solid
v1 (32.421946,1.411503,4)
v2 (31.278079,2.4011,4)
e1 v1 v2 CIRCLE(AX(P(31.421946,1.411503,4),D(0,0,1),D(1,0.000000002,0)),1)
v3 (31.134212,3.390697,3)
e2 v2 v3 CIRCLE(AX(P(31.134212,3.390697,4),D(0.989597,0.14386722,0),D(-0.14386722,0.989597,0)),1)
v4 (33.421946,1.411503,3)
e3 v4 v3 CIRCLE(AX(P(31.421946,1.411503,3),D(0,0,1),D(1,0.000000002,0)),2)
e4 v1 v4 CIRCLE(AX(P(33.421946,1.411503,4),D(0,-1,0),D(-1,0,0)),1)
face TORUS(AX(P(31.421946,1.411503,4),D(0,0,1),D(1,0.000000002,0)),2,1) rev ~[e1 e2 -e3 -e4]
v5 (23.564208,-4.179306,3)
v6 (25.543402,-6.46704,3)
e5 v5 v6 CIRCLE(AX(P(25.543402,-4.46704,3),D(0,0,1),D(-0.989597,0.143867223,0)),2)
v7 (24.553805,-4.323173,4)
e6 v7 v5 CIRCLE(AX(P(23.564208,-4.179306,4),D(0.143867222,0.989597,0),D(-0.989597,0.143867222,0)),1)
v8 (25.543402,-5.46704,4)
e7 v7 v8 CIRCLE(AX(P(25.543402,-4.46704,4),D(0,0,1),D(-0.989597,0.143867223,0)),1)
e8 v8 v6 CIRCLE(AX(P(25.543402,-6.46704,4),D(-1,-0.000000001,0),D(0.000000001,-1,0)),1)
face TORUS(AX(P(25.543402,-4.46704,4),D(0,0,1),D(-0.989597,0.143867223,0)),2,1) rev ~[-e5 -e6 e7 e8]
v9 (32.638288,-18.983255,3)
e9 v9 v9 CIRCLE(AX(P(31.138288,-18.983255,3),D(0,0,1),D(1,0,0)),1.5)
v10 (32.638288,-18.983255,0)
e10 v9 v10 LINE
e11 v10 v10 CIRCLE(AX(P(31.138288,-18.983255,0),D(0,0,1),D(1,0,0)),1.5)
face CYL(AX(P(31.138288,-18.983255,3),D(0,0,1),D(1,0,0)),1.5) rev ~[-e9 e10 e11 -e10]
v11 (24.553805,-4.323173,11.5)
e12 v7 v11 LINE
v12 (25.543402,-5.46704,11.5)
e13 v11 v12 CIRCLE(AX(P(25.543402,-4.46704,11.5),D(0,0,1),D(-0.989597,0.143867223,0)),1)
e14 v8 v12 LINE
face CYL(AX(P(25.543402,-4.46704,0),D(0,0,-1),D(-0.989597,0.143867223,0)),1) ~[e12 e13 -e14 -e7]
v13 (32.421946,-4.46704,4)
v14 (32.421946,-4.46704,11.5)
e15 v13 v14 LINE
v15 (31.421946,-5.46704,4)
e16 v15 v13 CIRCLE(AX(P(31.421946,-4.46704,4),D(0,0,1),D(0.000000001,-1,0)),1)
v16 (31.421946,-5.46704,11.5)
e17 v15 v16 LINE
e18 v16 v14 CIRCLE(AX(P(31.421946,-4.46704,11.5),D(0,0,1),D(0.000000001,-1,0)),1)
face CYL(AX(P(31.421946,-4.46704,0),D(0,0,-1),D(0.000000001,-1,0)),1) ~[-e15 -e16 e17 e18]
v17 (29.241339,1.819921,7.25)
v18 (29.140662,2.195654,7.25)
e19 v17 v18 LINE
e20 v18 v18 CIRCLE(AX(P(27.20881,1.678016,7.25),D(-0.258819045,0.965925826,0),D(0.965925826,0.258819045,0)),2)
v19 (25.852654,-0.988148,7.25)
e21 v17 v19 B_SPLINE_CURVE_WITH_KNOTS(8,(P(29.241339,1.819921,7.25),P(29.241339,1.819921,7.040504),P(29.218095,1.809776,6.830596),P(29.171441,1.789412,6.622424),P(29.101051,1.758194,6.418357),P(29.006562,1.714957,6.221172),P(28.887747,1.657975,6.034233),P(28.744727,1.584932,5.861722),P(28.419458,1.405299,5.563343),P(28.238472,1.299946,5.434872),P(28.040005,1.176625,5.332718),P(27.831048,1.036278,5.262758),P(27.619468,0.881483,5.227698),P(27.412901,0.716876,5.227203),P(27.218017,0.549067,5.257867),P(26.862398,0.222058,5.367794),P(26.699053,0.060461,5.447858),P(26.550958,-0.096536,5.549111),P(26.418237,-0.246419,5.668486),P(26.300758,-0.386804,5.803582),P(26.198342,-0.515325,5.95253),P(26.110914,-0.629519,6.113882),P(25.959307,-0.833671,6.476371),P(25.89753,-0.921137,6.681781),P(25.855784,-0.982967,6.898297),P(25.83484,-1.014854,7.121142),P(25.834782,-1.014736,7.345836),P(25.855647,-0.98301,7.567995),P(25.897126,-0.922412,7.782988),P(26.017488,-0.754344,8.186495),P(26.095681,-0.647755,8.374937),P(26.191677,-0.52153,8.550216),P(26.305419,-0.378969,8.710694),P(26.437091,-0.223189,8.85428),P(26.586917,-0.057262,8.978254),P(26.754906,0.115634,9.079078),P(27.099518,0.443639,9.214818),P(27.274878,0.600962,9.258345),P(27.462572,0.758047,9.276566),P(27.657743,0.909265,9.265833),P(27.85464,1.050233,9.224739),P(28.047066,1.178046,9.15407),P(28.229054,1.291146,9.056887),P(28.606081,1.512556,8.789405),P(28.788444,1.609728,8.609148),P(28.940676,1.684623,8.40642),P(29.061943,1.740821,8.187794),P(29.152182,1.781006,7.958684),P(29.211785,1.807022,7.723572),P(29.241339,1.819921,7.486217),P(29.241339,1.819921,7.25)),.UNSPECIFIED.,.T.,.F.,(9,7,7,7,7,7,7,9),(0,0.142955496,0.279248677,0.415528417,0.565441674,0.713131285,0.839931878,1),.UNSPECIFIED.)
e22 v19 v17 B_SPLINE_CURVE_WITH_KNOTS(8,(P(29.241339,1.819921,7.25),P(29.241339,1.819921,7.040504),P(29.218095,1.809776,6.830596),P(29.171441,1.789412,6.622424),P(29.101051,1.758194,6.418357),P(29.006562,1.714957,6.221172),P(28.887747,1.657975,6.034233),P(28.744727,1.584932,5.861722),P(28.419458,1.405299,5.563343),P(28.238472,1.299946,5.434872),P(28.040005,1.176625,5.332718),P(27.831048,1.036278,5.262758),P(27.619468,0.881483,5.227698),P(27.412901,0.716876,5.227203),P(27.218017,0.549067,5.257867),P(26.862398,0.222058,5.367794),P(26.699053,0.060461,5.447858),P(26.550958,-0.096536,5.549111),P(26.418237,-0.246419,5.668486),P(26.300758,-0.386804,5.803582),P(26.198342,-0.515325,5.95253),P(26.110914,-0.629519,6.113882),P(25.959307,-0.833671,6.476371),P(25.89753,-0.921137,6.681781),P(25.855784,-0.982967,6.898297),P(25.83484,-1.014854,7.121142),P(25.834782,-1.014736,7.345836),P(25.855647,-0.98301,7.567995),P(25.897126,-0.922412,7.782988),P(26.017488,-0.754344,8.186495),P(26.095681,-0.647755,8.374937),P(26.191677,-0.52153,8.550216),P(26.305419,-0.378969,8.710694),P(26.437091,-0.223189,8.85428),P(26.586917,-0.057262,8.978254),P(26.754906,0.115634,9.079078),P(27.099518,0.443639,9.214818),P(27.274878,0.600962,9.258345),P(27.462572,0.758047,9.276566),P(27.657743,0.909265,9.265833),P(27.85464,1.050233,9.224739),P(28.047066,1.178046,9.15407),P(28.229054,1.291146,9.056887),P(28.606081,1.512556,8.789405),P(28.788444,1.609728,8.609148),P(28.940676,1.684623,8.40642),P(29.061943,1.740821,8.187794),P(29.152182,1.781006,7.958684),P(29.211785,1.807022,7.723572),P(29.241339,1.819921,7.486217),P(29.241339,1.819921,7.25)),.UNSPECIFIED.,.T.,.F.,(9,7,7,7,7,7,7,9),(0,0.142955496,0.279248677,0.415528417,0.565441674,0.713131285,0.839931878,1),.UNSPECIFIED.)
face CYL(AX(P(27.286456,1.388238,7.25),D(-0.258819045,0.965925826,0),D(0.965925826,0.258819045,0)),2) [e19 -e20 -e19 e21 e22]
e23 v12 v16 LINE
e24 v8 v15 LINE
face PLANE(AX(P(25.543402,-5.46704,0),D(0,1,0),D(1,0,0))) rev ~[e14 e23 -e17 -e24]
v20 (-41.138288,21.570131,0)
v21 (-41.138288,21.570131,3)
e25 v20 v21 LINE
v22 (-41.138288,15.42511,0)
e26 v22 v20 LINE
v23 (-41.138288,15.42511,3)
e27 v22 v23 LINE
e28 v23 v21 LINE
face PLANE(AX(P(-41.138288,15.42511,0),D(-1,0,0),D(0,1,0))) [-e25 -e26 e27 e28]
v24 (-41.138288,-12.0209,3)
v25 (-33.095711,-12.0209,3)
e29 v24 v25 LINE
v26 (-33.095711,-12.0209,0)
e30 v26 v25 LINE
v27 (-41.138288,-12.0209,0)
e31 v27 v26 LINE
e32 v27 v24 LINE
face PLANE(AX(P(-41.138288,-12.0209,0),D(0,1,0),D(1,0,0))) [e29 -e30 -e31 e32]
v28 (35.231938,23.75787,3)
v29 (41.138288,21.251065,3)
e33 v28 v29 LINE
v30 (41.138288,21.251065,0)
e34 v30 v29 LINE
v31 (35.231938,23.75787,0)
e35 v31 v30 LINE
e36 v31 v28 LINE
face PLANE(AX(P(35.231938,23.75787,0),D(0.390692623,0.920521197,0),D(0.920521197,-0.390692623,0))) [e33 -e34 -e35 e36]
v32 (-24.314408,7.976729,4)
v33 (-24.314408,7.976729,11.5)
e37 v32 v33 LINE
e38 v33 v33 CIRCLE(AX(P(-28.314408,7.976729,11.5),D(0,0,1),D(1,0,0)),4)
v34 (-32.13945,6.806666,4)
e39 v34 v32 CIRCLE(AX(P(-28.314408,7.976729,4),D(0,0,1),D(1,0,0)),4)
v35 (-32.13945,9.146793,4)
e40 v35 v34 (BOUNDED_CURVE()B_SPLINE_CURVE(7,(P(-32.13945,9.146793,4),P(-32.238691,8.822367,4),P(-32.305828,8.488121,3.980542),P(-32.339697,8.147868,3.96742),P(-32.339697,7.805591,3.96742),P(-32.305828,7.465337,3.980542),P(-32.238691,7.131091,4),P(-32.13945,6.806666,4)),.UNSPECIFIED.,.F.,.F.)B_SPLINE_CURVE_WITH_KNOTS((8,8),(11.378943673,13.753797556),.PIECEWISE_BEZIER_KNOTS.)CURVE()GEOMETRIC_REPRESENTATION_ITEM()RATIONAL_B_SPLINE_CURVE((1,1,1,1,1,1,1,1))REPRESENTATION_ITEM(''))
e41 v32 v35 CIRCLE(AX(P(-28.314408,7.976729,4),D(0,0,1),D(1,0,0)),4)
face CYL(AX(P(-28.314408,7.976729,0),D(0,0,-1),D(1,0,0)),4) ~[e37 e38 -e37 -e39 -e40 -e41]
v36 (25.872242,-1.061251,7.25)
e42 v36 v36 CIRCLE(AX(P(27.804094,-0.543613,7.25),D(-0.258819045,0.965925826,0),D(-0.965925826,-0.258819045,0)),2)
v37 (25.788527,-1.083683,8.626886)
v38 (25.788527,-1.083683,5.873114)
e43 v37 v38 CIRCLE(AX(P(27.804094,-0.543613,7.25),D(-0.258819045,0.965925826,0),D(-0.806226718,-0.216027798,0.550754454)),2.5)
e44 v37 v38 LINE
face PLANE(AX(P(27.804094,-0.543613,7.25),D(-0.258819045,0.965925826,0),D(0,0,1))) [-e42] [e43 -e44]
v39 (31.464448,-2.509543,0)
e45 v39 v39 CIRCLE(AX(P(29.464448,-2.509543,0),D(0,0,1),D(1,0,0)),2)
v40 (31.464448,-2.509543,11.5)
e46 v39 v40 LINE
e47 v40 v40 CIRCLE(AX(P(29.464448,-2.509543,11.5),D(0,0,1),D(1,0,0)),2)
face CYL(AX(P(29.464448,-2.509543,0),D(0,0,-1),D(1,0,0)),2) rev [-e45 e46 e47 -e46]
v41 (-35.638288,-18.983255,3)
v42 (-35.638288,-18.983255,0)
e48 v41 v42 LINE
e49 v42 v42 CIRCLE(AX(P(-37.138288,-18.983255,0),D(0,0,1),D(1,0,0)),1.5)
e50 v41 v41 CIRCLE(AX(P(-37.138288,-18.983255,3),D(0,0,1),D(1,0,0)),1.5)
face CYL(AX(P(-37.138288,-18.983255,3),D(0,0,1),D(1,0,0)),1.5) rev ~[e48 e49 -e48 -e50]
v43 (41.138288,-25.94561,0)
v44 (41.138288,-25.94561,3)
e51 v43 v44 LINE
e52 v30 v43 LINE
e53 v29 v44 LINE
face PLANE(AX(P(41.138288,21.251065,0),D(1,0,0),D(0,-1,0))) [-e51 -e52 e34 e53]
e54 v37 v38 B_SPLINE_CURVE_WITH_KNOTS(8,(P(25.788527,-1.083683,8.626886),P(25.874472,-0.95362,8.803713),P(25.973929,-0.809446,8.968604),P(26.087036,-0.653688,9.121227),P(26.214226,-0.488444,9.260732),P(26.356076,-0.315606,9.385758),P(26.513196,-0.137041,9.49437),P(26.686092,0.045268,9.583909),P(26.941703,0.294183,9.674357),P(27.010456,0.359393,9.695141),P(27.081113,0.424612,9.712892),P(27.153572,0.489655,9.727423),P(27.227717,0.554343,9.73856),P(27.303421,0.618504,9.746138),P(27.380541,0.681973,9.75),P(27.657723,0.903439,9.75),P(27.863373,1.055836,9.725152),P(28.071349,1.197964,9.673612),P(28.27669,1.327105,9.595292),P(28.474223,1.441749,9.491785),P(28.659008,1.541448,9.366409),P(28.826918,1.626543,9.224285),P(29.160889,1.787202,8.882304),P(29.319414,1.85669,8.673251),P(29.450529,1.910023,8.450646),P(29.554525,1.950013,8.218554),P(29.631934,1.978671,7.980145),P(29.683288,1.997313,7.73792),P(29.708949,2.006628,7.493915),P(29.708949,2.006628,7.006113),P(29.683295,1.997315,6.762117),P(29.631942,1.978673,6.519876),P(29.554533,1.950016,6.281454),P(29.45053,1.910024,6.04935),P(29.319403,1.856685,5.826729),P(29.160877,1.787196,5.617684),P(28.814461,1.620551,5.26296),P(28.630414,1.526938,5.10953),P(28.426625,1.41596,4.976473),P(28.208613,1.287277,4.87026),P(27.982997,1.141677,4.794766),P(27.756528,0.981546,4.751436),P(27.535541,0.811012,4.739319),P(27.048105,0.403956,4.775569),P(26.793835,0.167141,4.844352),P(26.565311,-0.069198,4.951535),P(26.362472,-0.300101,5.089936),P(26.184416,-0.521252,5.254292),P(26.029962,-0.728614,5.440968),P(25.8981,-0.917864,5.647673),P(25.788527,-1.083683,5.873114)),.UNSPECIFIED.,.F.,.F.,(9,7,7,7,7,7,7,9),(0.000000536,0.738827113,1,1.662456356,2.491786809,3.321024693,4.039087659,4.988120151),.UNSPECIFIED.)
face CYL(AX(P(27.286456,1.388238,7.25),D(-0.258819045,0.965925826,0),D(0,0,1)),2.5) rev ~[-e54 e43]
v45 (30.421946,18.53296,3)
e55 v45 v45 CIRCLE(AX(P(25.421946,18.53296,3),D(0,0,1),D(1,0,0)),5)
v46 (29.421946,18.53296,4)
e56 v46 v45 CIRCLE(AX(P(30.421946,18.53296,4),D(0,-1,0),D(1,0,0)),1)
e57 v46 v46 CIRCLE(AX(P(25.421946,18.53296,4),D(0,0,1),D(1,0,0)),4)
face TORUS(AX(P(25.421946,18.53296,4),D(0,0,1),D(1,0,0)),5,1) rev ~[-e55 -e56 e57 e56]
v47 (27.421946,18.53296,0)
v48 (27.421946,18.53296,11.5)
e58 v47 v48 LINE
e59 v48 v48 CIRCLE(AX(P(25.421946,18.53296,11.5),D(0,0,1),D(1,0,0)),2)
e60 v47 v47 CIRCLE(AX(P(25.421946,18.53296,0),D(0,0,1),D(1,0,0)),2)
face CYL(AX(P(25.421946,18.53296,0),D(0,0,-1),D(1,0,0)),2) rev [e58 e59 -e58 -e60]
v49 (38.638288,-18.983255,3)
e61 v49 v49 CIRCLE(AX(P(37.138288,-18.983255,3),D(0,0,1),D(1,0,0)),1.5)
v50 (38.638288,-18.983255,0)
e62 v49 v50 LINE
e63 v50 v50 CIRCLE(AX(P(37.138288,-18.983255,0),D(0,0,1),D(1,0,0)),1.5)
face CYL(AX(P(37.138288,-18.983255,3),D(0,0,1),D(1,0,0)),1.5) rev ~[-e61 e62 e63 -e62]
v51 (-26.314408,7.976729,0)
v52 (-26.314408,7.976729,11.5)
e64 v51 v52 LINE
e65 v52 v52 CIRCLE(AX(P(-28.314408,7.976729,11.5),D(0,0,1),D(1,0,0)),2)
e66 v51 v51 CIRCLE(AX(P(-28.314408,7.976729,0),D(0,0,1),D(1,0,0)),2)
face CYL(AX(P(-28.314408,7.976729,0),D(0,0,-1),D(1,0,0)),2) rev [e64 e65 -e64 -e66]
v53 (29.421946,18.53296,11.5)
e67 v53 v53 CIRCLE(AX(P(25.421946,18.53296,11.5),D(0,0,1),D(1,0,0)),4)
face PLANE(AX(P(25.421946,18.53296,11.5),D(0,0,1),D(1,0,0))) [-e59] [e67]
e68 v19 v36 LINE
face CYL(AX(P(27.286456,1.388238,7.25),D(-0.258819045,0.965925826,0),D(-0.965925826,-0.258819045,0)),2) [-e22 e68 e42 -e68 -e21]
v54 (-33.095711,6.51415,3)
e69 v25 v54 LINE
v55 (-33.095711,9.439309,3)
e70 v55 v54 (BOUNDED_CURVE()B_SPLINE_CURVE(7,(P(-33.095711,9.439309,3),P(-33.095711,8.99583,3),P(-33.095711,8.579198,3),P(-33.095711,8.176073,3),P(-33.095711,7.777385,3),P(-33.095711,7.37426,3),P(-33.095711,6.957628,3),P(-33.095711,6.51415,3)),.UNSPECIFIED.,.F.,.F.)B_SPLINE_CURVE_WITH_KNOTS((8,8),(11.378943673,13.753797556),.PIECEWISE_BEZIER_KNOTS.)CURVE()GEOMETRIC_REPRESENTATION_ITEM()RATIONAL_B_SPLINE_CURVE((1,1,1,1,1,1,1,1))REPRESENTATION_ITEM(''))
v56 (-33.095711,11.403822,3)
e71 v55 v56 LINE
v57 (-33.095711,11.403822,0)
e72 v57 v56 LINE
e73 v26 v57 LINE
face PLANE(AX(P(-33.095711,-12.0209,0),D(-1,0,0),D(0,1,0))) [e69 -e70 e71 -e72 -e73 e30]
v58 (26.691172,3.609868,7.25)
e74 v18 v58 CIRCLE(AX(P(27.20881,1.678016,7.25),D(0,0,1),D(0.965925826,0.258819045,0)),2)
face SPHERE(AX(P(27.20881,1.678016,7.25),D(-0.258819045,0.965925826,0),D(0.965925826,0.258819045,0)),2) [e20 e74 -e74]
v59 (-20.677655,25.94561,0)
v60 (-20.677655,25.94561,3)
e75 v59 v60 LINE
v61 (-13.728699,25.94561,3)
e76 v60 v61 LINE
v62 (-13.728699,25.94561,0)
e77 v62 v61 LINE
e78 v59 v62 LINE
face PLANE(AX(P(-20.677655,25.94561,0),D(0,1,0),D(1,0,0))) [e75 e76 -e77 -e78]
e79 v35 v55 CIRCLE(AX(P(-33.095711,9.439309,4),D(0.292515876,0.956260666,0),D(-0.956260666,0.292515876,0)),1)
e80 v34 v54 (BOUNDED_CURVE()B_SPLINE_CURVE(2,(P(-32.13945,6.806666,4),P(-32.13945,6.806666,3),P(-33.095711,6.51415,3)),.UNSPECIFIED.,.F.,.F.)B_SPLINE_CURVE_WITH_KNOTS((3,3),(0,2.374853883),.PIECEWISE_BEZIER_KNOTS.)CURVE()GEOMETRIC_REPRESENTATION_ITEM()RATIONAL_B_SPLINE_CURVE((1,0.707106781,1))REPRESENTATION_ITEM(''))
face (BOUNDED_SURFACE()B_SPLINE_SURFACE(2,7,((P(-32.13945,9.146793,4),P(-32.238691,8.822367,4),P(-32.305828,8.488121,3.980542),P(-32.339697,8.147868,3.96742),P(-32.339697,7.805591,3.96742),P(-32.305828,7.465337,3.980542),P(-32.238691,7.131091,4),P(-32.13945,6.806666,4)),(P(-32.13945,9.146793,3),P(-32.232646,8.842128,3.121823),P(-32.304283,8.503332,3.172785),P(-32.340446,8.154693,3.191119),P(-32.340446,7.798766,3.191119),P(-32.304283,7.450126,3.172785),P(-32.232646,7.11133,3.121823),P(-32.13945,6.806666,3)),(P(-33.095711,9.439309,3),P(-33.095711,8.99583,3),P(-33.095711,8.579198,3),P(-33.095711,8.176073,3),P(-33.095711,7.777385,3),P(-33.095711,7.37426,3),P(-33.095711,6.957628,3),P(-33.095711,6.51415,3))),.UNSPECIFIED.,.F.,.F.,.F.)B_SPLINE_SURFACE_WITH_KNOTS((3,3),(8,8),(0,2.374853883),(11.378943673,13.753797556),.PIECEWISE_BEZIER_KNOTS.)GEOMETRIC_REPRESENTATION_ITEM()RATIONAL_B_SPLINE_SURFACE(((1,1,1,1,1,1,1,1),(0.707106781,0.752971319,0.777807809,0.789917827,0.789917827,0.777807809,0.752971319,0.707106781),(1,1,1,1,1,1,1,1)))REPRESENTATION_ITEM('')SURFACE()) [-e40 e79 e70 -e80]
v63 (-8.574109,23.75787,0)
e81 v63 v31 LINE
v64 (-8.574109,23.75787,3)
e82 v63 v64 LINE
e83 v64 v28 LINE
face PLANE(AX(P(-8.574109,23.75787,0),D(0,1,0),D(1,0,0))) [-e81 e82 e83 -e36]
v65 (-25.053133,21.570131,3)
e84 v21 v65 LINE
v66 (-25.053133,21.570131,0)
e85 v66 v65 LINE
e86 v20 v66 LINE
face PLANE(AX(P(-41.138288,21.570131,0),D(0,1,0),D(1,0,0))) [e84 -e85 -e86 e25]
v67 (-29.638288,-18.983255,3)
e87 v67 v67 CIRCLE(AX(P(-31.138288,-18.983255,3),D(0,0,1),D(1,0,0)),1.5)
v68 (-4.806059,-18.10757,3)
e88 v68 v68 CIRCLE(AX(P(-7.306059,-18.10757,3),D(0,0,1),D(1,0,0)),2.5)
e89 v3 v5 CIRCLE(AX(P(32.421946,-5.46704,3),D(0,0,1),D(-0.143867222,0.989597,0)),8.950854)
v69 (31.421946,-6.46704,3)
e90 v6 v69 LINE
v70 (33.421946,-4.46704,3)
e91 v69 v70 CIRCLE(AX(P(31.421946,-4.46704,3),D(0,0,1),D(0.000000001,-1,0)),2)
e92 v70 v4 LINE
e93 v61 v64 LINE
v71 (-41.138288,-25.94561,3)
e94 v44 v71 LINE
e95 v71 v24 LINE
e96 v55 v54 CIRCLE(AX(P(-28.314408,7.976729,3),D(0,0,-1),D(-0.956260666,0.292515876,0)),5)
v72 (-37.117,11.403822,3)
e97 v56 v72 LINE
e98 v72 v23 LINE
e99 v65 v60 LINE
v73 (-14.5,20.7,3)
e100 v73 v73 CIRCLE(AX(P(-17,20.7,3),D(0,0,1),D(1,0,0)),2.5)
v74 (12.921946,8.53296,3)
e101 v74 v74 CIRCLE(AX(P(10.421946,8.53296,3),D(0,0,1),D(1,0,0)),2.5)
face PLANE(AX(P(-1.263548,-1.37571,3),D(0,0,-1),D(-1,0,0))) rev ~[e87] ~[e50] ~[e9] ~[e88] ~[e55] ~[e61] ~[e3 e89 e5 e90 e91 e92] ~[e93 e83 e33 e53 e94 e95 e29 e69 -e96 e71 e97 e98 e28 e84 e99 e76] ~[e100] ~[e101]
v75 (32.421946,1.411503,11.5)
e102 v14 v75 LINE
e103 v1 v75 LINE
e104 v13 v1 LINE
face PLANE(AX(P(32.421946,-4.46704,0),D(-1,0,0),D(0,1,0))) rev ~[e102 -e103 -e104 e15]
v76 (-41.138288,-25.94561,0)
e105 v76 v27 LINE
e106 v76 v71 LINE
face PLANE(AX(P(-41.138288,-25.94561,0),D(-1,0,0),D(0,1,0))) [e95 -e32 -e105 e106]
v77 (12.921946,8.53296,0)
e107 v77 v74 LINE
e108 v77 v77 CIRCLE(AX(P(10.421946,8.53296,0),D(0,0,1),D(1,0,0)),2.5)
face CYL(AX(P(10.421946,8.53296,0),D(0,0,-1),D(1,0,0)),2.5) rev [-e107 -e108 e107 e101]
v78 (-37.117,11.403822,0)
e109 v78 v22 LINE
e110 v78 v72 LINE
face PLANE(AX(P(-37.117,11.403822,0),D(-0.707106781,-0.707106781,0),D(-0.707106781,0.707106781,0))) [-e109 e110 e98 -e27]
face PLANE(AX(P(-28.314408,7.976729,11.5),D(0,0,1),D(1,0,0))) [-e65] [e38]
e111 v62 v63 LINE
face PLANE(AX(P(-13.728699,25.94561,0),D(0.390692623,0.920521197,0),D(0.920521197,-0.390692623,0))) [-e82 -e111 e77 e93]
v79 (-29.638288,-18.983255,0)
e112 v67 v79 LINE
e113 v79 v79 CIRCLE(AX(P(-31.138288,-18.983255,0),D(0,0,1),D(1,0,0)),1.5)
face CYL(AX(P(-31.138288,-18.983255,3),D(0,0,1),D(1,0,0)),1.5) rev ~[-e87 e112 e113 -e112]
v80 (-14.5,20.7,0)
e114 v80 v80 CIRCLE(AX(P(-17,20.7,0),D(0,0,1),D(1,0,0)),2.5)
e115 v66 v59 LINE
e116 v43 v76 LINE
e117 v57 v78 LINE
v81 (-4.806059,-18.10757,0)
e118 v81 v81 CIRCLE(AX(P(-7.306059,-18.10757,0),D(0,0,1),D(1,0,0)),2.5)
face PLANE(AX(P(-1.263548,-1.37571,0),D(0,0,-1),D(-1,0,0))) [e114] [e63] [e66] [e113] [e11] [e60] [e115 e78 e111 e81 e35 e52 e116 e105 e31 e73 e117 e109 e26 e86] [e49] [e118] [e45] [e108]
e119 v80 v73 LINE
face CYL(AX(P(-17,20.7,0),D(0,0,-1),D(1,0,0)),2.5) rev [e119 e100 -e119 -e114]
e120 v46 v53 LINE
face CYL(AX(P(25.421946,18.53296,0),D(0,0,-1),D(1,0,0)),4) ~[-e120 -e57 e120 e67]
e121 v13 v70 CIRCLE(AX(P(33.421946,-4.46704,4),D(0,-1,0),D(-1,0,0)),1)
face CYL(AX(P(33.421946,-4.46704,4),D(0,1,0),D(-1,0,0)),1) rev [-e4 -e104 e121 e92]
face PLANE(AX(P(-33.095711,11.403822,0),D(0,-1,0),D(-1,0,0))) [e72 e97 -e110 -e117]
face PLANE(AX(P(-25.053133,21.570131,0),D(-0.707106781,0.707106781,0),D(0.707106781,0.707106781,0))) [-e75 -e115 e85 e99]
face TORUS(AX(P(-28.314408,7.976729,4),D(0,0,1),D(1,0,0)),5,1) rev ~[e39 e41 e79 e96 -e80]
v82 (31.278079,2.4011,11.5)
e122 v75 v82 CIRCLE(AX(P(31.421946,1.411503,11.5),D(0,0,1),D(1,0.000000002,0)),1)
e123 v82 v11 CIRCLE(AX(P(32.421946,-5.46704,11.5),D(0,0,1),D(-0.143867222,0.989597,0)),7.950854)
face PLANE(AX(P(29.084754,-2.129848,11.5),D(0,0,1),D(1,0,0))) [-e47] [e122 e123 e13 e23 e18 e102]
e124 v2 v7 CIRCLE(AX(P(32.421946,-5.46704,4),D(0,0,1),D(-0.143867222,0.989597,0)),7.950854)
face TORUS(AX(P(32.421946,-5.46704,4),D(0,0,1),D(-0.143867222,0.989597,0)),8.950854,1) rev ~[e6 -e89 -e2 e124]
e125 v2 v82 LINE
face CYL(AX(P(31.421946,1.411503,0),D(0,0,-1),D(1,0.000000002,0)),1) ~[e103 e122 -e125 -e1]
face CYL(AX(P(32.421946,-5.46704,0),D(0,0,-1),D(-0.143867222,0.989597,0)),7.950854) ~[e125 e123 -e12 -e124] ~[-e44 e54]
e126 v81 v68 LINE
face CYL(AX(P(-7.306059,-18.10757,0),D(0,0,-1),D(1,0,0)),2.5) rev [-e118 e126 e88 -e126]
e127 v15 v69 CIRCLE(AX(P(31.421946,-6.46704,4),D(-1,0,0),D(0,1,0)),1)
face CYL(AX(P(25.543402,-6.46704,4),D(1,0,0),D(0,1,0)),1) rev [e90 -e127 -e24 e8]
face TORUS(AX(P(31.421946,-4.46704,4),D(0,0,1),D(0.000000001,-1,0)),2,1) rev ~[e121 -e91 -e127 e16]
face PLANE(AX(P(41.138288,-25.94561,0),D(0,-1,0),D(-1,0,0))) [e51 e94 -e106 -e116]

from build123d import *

# Parameters (mm, degrees)
SKETCH_2_R          = 2.5
SKETCH_2_R_2        = 4
EXTRUDE_1_DEPTH     = 3
SKETCH_2_3_R        = 2
SKETCH_2_3_R_2      = 4
EXTRUDE_2_DEPTH     = 11.5
SKETCH_6_R          = 2
EXTRUDE_3_DEPTH     = 2.3
FILLET_1_R          = 2
SKETCH_7_R          = 2.5
SKETCH_7_R_2        = 2
CUT_EXTRUDE_2_DEPTH = 2
FILLET_2_R          = 1
CUT_EXTRUDE_3_REACH = 51.374
SKETCH_8_R          = 1.5
CUT_EXTRUDE_4_REACH = 51.374
SKETCH_11_R         = 1.5


with BuildPart() as part:
    # 스케치2 → 보스-돌출1 (new body)
    with BuildSketch(Plane.XY):
        Polygon((-25.053133429, 21.570131373), (-41.138288377, 21.570131373), (-41.138288377, 15.425110404), (-37.11699964, 11.403821667), (-33.095710903, 11.403821667), (-33.095710903, -12.020899542), (-41.138288377, -12.020899542), (-41.138288377, -25.94560961), (41.138288377, -25.94560961), (41.138288377, 21.251065018), (35.231937864, 23.757870491), (-8.574109119, 23.757870491), (-13.728698976, 25.94560961), (-20.677655191, 25.94560961), align=None)
        with Locations((-7.306059133, -18.107570273)):
            Circle(SKETCH_2_R, mode=Mode.SUBTRACT)
        with BuildLine():
            Line((31.421946091, -5.467040421), (25.543402205, -5.467040421))
            ThreePointArc((25.543402205, -5.467040421), (24.78713928, -5.121308248), (24.553805205, -4.323173199))
            ThreePointArc((24.553805205, -4.323173199), (26.799843583, 0.155062087), (31.278078869, 2.401100465))
            ThreePointArc((31.278078869, 2.401100465), (32.076213917, 2.167766389), (32.421946091, 1.411503465))
            Line((32.421946091, 1.411503465), (32.421946091, -4.467040421))
            ThreePointArc((32.421946091, -4.467040421), (32.129052872, -5.174147202), (31.421946091, -5.467040421))
        make_face(mode=Mode.SUBTRACT)
        with Locations((-28.314407571, 7.976729123)):
            Circle(SKETCH_2_R_2, mode=Mode.SUBTRACT)
        with Locations((-17, 20.7)):
            Circle(SKETCH_2_R, mode=Mode.SUBTRACT)
        with Locations((10.421946091, 8.532959579)):
            Circle(SKETCH_2_R, mode=Mode.SUBTRACT)
        with Locations((25.421946091, 18.532959579)):
            Circle(SKETCH_2_R_2, mode=Mode.SUBTRACT)
    extrude(amount=EXTRUDE_1_DEPTH)

    # 스케치2<3> → 보스-돌출2 (add)
    # profile 1 of 3: a face of its own
    with BuildSketch(Plane.XY):
        with BuildLine():
            ThreePointArc((24.553805205, -4.323173199), (24.78713928, -5.121308248), (25.543402205, -5.467040421))
            Line((25.543402205, -5.467040421), (31.421946091, -5.467040421))
            ThreePointArc((31.421946091, -5.467040421), (32.129052872, -5.174147202), (32.421946091, -4.467040421))
            Line((32.421946091, -4.467040421), (32.421946091, 1.411503465))
            ThreePointArc((32.421946091, 1.411503465), (32.076213917, 2.167766389), (31.278078869, 2.401100465))
            ThreePointArc((31.278078869, 2.401100465), (26.799843583, 0.155062087), (24.553805205, -4.323173199))
        make_face()
        with Locations((29.464448227, -2.509542558)):
            Circle(SKETCH_2_3_R, mode=Mode.SUBTRACT)
    # profile 2 of 3: a face of its own
    with BuildSketch(Plane.XY):
        with Locations((-28.314407571, 7.976729123)):
            Circle(SKETCH_2_3_R_2)
        with Locations((-28.314407571, 7.976729123)):
            Circle(SKETCH_2_3_R, mode=Mode.SUBTRACT)
    # profile 3 of 3: a face of its own
    with BuildSketch(Plane.XY):
        with Locations((25.421946091, 18.532959579)):
            Circle(SKETCH_2_3_R_2)
        with Locations((25.421946091, 18.532959579)):
            Circle(SKETCH_2_3_R, mode=Mode.SUBTRACT)
    extrude(amount=EXTRUDE_2_DEPTH)

    # 스케치6 → 보스-돌출3 (add, symmetric)
    with BuildSketch(Plane(origin=(1.480786333, -5.526369829, 0), x_dir=(0, 0, 1), z_dir=(-0.25881904510252574, 0.9659258262890671, 0))):
        with Locations((7.25, 26.715994864)):
            Circle(SKETCH_6_R)
    extrude(amount=EXTRUDE_3_DEPTH, both=True)

    # 필렛1
    fillet_1_edges = [part.edges().sort_by_distance(p)[0] for p in [
        (26.691171943, 3.609867851, 5.25),
    ]]
    fillet(fillet_1_edges, radius=FILLET_1_R)

    # 스케치7 → 컷-돌출2 (cut)
    with BuildSketch(Plane(origin=(1.480786333, -5.526369829, 0), x_dir=(0, 0, 1), z_dir=(-0.25881904510252574, 0.9659258262890671, 0))):
        with Locations((7.25, 26.715994864)):
            Circle(SKETCH_7_R)
        with Locations((7.25, 26.715994864)):
            Circle(SKETCH_7_R_2, mode=Mode.SUBTRACT)
    extrude(amount=-CUT_EXTRUDE_2_DEPTH, mode=Mode.SUBTRACT)

    # 필렛2
    fillet_2_edges = [part.edges().sort_by_distance(p)[0] for p in [
        (32.076213917, 2.167766389, 3),
        (32.421946091, -1.527768478, 3),
        (32.129052872, -5.174147202, 3),
        (28.482674148, -5.467040421, 3),
        (24.78713928, -5.121308248, 3),
        (-32.314407571, 7.976729123, 3),
        (21.421946091, 18.532959579, 3),
        (26.799843583, 0.155062087, 3),
    ]]
    fillet(fillet_2_edges, radius=FILLET_2_R)

    # 스케치8 → 컷-돌출3 (cut, up to next)
    with BuildSketch(Plane.XY.offset(3), mode=Mode.PRIVATE) as cut_extrude_3_sk1:
        with Locations((-37.138288377, -18.983254576)):
            Circle(SKETCH_8_R)
    cut_extrude_3_tool1 = extrude(cut_extrude_3_sk1.sketch, amount=-CUT_EXTRUDE_3_REACH, mode=Mode.PRIVATE) & part.part
    # 스케치8 → 컷-돌출3 (cut, up to next)
    with BuildSketch(Plane.XY.offset(3), mode=Mode.PRIVATE) as cut_extrude_3_sk2:
        with Locations((-31.138288377, -18.983254576)):
            Circle(SKETCH_8_R)
    cut_extrude_3_tool2 = extrude(cut_extrude_3_sk2.sketch, amount=-CUT_EXTRUDE_3_REACH, mode=Mode.PRIVATE) & part.part
    add(cut_extrude_3_tool1.solids().sort_by_distance((-37.138288, -18.983255, 3))[0], mode=Mode.SUBTRACT)
    add(cut_extrude_3_tool2.solids().sort_by_distance((-31.138288, -18.983255, 3))[0], mode=Mode.SUBTRACT)

    # 스케치11 → 컷-돌출4 (cut, up to next)
    with BuildSketch(Plane.XY.offset(3), mode=Mode.PRIVATE) as cut_extrude_4_sk1:
        with Locations((37.138288377, -18.983254576)):
            Circle(SKETCH_11_R)
    cut_extrude_4_tool1 = extrude(cut_extrude_4_sk1.sketch, amount=-CUT_EXTRUDE_4_REACH, mode=Mode.PRIVATE) & part.part
    # 스케치11 → 컷-돌출4 (cut, up to next)
    with BuildSketch(Plane.XY.offset(3), mode=Mode.PRIVATE) as cut_extrude_4_sk2:
        with Locations((31.138288377, -18.983254576)):
            Circle(SKETCH_11_R)
    cut_extrude_4_tool2 = extrude(cut_extrude_4_sk2.sketch, amount=-CUT_EXTRUDE_4_REACH, mode=Mode.PRIVATE) & part.part
    add(cut_extrude_4_tool1.solids().sort_by_distance((37.138288, -18.983255, 3))[0], mode=Mode.SUBTRACT)
    add(cut_extrude_4_tool2.solids().sort_by_distance((31.138288, -18.983255, 3))[0], mode=Mode.SUBTRACT)


solid = part.part
